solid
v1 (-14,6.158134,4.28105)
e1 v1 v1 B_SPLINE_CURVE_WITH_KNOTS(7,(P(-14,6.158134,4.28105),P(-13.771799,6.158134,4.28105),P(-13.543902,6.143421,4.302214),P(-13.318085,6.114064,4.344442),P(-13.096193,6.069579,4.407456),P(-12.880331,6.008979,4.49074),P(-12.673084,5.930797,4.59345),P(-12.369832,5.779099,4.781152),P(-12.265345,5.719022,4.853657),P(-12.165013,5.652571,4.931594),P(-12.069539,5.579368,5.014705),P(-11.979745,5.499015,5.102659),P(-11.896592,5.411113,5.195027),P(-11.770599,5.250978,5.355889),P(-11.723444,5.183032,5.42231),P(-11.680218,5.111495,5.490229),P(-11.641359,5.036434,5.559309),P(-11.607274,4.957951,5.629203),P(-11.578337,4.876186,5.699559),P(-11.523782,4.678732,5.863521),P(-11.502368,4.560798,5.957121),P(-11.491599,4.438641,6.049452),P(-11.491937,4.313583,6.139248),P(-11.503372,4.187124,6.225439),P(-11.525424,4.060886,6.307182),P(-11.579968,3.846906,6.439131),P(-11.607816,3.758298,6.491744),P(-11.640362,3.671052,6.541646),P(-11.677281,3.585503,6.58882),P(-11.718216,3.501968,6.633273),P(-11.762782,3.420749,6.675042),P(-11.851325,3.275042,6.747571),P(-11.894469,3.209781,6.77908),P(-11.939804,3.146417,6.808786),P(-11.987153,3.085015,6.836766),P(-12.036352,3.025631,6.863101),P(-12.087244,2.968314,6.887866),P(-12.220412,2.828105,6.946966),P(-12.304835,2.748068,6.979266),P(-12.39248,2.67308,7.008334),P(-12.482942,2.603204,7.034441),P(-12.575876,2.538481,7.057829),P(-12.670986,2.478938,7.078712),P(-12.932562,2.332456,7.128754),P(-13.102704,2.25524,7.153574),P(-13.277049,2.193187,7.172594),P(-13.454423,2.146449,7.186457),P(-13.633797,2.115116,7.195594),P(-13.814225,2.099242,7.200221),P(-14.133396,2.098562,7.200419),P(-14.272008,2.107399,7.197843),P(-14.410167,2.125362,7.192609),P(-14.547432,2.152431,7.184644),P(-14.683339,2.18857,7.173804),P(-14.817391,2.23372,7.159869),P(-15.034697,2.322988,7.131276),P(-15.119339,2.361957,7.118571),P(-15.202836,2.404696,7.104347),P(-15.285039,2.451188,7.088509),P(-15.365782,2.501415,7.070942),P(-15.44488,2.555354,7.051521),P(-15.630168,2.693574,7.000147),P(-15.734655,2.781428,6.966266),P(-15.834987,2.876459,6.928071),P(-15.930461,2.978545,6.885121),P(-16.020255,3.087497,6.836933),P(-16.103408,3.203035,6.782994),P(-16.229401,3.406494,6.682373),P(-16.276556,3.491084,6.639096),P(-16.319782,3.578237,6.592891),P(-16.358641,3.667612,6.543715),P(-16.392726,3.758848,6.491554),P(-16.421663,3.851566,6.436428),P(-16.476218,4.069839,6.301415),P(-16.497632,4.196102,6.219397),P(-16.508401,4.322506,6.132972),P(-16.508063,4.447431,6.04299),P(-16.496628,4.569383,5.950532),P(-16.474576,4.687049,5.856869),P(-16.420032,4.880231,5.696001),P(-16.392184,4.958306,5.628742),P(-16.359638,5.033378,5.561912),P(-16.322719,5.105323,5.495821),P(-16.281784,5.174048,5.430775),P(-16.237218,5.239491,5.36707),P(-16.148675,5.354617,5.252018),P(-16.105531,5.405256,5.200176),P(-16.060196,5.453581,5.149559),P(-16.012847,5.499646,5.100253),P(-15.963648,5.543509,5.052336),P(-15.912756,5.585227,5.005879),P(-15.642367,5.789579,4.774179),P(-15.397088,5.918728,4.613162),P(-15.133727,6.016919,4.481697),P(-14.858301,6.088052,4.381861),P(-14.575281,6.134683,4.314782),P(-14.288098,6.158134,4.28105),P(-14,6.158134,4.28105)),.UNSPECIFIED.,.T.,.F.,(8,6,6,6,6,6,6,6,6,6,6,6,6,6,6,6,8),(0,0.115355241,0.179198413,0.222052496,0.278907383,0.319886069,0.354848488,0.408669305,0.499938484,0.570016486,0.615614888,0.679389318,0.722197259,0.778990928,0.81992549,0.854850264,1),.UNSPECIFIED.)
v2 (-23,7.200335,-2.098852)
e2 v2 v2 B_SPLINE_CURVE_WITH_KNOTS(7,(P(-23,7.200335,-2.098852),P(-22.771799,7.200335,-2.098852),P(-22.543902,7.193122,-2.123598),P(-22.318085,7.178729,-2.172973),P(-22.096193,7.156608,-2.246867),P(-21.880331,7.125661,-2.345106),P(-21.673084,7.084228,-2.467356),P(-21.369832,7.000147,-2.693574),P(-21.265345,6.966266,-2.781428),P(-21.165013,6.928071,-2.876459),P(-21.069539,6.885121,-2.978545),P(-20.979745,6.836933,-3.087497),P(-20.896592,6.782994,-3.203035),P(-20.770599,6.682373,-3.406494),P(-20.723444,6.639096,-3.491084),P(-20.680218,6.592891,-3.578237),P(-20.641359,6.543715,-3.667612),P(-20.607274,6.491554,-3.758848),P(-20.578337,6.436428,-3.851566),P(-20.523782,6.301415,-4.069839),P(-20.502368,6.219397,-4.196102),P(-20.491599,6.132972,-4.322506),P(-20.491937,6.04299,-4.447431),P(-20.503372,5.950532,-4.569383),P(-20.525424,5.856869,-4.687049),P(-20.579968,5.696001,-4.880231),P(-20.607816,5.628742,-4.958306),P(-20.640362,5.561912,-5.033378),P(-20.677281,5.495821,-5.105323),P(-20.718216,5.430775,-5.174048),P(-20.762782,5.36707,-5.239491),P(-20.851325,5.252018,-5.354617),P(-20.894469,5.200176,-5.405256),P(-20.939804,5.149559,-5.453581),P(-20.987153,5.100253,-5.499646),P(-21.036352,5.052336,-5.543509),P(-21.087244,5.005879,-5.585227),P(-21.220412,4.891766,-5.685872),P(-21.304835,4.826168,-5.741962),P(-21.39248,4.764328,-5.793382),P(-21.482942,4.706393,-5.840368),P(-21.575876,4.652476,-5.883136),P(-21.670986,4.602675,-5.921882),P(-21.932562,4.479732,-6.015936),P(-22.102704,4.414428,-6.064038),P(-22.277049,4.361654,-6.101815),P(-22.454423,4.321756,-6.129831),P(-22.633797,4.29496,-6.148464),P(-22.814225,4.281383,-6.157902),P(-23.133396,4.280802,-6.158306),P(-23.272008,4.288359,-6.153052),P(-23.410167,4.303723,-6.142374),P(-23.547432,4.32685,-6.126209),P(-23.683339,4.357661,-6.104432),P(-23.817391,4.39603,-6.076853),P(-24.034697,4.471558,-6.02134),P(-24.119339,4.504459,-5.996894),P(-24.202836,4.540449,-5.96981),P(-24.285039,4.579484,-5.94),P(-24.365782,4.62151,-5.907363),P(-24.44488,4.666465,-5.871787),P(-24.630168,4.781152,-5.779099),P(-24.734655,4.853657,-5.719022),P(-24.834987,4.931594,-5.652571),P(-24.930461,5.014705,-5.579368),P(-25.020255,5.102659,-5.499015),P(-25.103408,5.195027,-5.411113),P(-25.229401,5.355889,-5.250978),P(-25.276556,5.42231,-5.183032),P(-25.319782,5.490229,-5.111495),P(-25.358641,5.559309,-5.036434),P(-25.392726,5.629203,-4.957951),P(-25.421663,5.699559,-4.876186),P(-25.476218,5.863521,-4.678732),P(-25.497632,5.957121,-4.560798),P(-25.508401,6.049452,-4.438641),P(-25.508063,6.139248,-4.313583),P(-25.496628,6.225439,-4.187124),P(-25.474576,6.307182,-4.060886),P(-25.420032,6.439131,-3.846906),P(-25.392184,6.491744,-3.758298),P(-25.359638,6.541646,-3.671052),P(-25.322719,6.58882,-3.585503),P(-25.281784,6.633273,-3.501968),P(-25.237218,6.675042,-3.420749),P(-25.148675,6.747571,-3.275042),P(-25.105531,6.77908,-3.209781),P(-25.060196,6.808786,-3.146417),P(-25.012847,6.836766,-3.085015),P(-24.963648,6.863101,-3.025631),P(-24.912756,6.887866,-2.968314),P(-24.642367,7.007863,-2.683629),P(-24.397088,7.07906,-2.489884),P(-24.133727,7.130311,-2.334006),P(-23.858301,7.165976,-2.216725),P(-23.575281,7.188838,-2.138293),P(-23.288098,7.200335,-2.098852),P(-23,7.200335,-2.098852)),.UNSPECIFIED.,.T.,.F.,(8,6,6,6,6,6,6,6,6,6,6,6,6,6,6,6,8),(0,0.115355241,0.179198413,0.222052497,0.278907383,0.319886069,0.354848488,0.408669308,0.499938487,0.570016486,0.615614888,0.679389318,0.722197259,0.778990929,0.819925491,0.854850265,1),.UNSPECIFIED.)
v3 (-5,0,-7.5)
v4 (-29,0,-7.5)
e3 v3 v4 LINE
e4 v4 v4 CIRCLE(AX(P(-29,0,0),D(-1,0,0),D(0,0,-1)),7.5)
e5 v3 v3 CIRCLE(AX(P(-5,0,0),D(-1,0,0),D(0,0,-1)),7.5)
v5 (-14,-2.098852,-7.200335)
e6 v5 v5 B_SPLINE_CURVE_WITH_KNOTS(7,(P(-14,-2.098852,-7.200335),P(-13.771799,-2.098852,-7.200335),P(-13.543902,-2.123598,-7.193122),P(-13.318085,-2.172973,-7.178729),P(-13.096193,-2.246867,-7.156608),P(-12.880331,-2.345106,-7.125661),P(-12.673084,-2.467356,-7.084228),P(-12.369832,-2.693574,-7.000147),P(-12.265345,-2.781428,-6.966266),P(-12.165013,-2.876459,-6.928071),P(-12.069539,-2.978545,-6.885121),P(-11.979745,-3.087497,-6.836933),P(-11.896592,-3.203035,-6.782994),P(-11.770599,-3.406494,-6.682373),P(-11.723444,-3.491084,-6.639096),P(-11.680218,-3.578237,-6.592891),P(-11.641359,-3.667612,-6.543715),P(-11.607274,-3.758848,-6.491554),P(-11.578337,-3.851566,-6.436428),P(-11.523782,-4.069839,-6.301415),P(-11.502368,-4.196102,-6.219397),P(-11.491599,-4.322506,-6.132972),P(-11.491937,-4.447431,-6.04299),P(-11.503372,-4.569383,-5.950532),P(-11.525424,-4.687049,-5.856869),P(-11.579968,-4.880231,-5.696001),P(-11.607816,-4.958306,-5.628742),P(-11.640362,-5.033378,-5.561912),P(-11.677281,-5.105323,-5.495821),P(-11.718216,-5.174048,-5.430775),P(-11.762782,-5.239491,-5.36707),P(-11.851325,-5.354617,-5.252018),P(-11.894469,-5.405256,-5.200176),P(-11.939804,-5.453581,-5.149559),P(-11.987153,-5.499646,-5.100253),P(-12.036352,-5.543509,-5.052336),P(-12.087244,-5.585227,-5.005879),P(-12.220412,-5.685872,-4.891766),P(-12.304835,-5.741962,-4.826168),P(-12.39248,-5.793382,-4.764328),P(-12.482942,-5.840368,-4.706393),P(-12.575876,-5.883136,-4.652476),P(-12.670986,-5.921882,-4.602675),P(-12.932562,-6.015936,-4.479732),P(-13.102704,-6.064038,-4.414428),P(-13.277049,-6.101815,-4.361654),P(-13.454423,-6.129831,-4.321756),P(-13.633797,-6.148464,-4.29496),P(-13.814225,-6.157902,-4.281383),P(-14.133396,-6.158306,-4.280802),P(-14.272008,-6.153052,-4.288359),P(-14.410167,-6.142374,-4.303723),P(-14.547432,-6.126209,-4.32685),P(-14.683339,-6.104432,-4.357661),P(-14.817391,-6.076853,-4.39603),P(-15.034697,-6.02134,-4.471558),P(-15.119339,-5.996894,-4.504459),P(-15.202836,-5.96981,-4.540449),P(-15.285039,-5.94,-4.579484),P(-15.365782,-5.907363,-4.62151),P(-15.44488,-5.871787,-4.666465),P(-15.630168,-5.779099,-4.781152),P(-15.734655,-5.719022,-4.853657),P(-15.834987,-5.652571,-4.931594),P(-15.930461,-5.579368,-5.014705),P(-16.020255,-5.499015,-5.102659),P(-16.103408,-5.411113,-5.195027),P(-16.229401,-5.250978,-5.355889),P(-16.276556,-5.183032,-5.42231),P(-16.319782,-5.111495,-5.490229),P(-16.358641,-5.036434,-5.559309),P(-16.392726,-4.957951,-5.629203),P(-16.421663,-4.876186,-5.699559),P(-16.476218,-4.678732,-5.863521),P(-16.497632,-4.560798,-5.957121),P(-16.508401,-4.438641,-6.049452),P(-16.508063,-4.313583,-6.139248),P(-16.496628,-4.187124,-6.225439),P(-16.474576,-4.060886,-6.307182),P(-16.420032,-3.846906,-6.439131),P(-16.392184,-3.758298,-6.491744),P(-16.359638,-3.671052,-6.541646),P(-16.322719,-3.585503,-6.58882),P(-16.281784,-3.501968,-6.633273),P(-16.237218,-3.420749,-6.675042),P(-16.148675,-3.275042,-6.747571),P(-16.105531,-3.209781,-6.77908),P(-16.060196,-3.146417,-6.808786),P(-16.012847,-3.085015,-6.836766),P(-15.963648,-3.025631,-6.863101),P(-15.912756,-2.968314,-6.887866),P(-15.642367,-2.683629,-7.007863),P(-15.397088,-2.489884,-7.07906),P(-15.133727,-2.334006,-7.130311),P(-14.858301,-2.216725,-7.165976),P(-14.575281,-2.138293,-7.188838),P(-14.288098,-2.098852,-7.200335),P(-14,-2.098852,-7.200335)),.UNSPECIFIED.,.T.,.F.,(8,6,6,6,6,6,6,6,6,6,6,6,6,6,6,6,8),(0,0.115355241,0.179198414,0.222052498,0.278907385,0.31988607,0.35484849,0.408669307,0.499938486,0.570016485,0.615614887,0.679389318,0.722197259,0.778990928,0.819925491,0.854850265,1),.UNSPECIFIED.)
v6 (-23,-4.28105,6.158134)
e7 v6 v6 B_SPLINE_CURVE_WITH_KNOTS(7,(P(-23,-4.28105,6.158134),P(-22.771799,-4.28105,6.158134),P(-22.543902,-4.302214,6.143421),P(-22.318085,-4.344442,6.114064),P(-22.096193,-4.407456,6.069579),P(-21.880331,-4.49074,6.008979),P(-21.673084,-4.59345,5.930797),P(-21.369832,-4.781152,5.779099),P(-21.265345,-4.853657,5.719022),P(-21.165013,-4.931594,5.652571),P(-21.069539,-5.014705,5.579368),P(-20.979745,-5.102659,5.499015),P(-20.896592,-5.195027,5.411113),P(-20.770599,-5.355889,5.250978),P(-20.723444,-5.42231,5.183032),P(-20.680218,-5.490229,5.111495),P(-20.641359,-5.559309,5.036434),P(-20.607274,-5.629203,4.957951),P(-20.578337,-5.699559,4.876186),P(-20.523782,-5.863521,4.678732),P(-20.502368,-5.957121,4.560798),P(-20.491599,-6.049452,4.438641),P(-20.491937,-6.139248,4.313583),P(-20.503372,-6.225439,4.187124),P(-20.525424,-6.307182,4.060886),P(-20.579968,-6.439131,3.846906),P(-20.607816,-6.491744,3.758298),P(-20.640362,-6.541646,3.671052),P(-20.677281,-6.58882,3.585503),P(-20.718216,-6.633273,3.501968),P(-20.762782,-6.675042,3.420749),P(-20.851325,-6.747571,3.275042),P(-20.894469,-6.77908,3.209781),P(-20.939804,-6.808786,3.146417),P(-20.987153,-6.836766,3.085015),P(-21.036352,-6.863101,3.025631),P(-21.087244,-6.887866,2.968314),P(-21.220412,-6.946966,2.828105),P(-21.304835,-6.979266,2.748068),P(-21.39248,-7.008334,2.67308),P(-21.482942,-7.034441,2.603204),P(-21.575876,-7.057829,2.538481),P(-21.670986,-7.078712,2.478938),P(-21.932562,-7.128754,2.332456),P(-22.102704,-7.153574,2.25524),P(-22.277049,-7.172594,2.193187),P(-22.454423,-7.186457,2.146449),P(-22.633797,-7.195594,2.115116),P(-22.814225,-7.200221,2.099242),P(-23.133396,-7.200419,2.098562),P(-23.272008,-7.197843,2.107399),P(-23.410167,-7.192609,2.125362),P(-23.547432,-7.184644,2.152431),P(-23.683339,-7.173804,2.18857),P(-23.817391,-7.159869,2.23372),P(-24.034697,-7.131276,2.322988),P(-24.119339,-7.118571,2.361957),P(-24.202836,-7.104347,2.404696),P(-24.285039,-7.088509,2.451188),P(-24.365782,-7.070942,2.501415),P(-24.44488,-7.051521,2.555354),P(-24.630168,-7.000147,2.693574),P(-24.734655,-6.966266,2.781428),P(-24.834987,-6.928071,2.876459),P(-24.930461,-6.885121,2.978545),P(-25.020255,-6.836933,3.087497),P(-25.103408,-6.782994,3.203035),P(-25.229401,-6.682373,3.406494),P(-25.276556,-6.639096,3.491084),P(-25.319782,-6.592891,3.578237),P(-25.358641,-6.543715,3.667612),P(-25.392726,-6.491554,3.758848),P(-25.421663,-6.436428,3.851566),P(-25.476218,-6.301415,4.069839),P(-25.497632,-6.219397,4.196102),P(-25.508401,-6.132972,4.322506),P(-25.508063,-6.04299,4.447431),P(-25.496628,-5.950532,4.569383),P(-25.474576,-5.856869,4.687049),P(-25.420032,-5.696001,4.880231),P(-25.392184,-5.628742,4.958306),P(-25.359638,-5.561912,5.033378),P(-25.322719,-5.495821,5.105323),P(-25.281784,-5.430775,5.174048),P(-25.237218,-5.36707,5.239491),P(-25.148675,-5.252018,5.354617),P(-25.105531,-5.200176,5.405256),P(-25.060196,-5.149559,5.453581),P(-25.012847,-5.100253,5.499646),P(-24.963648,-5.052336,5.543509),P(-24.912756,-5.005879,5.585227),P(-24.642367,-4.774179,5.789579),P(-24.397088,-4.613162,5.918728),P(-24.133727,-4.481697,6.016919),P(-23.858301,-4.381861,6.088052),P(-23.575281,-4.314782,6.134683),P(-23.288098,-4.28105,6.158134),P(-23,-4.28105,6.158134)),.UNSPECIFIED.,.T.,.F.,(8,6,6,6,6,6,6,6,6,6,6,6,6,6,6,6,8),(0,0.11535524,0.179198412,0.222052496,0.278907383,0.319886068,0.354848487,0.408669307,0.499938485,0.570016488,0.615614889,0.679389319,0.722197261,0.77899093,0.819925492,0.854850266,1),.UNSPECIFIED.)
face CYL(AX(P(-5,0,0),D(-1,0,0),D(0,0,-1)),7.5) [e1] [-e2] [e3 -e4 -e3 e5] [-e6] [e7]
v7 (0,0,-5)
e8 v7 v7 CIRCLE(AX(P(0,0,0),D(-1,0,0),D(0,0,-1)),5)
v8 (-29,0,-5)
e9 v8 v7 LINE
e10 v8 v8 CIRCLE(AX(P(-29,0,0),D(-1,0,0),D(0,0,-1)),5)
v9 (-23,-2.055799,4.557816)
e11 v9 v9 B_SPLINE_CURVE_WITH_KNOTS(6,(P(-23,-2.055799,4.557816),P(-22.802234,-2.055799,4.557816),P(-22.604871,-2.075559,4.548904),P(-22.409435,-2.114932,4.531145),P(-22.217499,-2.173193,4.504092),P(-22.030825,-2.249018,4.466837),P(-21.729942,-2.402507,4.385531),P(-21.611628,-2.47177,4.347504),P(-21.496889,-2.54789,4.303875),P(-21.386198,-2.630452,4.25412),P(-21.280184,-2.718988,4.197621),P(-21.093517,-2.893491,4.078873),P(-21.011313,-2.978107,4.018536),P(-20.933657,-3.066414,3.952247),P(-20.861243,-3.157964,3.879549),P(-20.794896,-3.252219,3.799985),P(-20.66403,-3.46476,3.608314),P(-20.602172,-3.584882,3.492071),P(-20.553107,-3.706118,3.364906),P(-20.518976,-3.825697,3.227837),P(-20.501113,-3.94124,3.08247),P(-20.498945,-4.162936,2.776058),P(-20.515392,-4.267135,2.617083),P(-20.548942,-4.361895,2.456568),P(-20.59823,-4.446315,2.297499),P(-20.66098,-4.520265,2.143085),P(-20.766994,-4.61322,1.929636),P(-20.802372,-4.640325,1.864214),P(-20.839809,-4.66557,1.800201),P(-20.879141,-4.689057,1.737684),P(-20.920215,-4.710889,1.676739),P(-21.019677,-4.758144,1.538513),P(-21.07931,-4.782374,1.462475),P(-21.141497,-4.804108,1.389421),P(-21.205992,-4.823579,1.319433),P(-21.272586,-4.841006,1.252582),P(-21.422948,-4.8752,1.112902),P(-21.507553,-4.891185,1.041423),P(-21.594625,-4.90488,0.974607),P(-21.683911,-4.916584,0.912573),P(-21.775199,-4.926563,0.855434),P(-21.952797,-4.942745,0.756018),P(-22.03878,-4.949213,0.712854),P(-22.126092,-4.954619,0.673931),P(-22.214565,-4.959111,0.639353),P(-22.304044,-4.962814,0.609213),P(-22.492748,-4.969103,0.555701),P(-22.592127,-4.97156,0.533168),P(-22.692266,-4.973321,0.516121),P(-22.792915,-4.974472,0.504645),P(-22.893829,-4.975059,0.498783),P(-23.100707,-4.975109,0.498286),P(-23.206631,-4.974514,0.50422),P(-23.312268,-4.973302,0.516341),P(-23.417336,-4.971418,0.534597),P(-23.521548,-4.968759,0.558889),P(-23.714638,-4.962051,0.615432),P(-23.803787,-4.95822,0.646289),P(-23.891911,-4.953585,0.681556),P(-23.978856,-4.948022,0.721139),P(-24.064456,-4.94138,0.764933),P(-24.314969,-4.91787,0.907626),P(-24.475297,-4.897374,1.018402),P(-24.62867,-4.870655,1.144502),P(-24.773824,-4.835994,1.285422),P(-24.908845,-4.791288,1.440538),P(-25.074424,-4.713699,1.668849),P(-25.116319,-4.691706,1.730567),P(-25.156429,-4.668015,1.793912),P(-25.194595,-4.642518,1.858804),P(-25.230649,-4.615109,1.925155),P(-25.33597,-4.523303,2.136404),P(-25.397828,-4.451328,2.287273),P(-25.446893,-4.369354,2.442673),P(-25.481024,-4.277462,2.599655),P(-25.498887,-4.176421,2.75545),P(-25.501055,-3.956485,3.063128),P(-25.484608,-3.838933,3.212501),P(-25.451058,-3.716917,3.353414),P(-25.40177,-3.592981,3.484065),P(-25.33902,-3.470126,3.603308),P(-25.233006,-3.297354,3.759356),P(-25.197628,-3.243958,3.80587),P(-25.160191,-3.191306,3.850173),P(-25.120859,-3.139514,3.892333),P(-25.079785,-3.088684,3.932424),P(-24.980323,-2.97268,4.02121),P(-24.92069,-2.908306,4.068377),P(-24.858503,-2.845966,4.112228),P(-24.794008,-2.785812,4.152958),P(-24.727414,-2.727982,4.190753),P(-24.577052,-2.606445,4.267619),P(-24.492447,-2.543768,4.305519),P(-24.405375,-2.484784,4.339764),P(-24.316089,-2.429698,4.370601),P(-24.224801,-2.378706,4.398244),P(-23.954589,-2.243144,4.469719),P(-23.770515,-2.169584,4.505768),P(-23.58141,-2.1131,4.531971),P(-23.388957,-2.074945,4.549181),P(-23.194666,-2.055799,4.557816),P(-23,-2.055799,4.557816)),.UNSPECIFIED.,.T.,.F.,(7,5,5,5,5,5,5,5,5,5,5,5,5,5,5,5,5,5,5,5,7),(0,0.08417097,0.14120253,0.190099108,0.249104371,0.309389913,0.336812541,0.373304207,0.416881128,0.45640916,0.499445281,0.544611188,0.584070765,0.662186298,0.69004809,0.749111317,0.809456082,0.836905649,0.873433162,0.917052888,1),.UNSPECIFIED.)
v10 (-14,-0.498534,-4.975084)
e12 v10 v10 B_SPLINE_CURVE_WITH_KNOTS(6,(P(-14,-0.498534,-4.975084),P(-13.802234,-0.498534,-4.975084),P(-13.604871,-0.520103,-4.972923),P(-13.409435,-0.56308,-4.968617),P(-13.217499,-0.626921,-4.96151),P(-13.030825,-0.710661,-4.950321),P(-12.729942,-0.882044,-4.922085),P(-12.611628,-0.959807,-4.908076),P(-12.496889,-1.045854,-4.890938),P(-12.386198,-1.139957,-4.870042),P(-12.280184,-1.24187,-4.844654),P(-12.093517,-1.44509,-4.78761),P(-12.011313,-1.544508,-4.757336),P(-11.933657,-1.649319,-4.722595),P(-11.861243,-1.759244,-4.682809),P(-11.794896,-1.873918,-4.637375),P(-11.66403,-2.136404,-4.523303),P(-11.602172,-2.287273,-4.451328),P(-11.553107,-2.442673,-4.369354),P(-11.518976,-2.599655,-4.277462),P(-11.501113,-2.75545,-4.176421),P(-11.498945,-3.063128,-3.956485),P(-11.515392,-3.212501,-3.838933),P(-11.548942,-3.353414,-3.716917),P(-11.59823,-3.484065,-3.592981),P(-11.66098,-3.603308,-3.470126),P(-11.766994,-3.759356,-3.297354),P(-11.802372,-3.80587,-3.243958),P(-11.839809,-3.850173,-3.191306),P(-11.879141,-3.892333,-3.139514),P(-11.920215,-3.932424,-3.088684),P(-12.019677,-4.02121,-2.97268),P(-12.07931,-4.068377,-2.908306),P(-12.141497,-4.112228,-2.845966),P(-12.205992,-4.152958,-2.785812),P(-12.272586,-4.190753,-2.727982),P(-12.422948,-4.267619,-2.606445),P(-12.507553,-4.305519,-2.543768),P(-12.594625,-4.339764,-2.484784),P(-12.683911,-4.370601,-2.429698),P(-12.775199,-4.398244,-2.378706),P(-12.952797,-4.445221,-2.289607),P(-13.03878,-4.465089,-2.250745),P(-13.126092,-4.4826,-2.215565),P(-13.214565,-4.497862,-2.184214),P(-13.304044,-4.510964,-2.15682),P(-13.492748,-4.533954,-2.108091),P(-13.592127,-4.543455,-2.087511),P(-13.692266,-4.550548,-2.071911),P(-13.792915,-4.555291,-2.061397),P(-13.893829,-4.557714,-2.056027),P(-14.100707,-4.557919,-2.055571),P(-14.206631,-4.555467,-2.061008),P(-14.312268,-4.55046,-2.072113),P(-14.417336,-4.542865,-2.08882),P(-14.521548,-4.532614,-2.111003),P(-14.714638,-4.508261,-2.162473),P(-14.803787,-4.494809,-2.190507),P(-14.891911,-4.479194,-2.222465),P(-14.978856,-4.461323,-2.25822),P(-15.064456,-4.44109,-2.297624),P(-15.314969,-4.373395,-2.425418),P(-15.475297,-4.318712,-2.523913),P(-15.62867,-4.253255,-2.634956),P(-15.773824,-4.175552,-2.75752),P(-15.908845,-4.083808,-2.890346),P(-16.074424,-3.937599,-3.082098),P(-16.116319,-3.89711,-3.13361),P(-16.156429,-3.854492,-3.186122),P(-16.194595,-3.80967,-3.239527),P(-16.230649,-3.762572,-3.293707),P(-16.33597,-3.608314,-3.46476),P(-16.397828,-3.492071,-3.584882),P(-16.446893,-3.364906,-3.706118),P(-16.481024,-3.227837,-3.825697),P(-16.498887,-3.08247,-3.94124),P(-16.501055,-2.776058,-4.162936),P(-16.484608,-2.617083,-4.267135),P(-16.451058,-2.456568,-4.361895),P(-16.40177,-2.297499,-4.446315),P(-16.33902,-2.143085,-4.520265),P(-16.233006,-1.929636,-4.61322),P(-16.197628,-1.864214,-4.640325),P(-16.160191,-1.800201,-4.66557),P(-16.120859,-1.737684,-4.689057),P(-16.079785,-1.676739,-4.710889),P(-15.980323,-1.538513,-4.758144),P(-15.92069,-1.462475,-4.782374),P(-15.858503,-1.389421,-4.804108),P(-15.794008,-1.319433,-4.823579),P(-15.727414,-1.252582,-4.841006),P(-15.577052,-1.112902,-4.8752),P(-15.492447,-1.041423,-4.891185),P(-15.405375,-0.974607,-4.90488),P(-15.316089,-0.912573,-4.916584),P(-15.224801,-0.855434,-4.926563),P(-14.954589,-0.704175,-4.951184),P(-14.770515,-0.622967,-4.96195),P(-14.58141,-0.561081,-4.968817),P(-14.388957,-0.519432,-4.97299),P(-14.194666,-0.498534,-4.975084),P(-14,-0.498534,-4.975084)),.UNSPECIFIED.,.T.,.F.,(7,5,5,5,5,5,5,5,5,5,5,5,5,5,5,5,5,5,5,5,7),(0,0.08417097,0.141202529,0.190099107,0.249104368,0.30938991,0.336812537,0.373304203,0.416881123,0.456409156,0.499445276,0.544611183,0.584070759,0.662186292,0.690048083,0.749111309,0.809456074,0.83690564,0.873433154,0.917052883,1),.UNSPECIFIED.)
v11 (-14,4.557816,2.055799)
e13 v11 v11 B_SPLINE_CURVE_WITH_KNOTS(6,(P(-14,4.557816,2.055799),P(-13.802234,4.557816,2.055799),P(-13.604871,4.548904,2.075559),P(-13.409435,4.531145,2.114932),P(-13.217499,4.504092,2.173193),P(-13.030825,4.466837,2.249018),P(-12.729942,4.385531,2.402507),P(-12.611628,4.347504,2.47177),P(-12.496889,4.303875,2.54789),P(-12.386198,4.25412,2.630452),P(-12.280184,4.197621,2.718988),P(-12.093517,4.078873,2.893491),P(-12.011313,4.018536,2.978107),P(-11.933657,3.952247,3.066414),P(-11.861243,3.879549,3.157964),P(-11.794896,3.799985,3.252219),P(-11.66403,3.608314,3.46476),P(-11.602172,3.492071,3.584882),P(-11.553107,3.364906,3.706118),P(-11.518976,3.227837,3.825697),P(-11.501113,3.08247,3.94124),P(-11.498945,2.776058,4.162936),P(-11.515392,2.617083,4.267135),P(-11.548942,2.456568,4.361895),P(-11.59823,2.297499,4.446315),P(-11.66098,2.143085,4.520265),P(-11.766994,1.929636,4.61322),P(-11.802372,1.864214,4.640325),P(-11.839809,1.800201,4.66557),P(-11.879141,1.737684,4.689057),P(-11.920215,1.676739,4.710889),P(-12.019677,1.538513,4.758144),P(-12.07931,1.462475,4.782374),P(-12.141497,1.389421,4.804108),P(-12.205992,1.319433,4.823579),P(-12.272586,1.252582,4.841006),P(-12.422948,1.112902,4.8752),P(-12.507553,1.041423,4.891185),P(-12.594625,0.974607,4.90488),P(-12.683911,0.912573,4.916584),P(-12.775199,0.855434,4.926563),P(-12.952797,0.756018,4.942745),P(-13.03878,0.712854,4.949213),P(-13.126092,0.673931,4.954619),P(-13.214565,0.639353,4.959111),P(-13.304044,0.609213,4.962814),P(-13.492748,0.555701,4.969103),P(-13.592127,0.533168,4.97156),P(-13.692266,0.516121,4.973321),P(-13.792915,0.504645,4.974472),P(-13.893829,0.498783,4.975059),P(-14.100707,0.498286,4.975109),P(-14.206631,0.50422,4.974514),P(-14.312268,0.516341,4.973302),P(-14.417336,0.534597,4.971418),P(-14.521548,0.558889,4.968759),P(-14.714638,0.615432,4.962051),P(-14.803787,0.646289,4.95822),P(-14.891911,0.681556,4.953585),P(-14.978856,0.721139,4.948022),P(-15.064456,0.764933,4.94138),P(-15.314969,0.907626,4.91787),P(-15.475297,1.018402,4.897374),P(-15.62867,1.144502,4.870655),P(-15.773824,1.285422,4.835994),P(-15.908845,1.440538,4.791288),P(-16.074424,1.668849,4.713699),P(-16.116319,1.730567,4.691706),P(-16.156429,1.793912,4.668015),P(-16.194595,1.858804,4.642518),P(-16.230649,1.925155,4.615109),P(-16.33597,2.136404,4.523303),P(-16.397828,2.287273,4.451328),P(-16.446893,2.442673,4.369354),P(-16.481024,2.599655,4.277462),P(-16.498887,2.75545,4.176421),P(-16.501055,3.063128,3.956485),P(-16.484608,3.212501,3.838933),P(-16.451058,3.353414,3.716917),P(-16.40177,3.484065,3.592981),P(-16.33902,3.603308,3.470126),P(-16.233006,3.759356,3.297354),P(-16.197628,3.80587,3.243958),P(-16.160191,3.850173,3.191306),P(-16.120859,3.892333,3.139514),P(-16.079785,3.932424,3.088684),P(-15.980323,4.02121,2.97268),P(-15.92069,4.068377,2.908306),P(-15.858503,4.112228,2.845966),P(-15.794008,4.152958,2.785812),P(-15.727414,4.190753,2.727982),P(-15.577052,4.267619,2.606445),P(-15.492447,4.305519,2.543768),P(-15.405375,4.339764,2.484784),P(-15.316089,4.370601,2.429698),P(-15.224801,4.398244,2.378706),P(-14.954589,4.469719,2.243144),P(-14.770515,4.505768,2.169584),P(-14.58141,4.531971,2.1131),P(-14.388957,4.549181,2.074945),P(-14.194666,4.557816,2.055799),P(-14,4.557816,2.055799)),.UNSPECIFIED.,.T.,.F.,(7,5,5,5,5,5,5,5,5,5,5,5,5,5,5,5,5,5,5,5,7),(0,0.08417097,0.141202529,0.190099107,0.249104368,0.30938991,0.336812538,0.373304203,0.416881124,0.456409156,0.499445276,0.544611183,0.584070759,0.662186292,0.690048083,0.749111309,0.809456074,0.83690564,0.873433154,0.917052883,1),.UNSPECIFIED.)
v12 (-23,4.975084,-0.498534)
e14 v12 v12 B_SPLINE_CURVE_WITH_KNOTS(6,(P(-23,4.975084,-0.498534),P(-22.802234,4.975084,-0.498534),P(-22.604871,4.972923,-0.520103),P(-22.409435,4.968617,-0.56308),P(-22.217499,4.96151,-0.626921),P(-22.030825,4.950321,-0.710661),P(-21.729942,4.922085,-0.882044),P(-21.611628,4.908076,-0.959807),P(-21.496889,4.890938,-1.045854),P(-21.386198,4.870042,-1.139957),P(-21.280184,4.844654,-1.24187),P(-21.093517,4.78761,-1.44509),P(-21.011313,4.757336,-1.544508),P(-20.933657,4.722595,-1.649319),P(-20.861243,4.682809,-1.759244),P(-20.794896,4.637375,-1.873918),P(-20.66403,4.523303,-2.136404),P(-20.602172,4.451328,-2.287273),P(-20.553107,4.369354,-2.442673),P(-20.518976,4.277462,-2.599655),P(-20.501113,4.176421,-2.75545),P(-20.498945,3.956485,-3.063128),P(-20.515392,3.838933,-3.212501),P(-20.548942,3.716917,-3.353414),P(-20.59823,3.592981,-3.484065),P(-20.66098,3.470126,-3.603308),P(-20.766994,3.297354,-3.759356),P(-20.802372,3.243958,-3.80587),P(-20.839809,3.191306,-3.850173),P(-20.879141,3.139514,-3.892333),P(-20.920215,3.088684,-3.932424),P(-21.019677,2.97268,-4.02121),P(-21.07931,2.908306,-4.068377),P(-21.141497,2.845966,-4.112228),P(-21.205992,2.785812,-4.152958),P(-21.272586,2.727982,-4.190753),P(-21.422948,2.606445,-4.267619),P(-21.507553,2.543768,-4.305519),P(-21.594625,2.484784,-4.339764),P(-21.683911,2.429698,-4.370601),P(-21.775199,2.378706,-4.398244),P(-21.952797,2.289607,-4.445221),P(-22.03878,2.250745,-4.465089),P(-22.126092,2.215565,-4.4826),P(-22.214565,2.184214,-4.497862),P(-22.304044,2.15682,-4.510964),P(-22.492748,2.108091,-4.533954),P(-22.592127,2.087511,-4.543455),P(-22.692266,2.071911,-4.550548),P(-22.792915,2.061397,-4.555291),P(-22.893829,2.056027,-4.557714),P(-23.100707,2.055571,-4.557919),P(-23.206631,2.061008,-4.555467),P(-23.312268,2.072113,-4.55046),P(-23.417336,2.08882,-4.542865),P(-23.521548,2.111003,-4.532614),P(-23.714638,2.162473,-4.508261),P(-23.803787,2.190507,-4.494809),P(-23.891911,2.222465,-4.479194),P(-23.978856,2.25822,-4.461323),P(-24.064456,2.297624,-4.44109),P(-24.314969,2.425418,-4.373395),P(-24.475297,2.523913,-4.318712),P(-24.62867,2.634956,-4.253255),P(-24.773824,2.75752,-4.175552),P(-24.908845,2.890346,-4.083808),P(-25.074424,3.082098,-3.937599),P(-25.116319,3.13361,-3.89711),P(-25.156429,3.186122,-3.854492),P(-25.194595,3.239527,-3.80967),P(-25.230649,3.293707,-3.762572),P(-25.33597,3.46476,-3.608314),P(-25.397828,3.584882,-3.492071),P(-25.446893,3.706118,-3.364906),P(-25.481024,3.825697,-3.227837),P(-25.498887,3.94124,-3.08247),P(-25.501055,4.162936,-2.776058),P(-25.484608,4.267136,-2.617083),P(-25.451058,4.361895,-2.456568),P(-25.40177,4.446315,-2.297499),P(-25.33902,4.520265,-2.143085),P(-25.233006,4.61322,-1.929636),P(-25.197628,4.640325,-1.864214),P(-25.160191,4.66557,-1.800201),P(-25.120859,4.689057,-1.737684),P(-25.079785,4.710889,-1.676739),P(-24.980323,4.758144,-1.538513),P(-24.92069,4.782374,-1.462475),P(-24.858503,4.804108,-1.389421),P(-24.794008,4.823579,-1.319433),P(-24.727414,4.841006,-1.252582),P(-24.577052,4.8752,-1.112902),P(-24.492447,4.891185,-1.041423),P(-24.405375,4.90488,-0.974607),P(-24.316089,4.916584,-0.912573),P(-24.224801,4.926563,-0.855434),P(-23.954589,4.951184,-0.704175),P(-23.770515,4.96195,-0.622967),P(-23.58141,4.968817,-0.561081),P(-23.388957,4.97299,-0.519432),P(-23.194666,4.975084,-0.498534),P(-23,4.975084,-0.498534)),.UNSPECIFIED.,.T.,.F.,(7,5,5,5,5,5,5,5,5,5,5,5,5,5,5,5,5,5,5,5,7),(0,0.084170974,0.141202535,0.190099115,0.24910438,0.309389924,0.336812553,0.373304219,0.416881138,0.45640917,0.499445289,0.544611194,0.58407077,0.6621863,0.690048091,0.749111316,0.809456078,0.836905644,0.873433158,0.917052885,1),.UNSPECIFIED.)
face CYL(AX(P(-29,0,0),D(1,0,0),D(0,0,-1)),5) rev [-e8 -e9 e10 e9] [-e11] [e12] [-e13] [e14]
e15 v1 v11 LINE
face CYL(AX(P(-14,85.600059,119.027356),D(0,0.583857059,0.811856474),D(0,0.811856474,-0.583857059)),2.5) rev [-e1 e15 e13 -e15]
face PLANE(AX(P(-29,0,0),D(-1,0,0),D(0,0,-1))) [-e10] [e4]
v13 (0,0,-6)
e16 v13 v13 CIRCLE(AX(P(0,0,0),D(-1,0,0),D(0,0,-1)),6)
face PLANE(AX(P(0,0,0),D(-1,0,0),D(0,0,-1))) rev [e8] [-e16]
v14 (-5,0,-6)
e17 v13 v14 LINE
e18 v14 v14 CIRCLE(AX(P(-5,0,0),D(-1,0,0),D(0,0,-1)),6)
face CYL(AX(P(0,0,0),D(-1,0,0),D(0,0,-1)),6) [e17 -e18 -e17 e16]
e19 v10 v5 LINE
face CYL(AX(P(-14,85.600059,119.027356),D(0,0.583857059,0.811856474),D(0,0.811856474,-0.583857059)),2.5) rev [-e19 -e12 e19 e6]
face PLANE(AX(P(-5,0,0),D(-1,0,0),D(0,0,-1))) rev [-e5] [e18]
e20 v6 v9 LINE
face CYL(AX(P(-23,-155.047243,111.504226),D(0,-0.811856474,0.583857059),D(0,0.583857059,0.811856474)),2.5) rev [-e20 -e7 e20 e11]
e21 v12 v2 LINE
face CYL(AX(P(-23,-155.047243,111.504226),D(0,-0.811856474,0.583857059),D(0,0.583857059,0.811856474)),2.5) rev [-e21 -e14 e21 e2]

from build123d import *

# Parameters (mm, degrees)
CUT_EXTRUDE1_DEPTH      = 195.978637362
CUT_EXTRUDE1_DEPTH_BACK = 195.978637362
SKETCH4_R               = 2.5
CUT_EXTRUDE2_DEPTH      = 151.611328634
CUT_EXTRUDE2_DEPTH_BACK = 151.611328634
SKETCH3_R               = 2.5


with BuildPart() as part:
    # Sketch2 → Revolve1 (revolve)
    with BuildSketch(Plane.XY, mode=Mode.PRIVATE) as revolve1_sk:
        Polygon((0, 6), (-5, 6), (-5, 7.5), (-29, 7.5), (-29, 5), (0, 5), align=None)
    revolve(revolve1_sk.sketch.rotate(Axis((0, 0, 0), (-1, 0, 0)), 90), axis=Axis((0, 0, 0), (-1, 0, 0)))

    # Sketch4 → Cut-Extrude1 (cut, two sides: drawn at the far end of the back side and taken through both)
    with BuildSketch(Plane(origin=(-120.750059673, 87.243462265, 112.748777435), x_dir=(0.8561890359823346, 0.3016571585603837, 0.41945594924010343), z_dir=(0, 0.8118564738851006, -0.5838570593996881)).offset(-CUT_EXTRUDE1_DEPTH_BACK)):
        with Locations(Location((10.081768965, 172.488088347, 0), (0, 0, 301.108656356))):
            Circle(SKETCH4_R)
    extrude(amount=CUT_EXTRUDE1_DEPTH + CUT_EXTRUDE1_DEPTH_BACK, mode=Mode.SUBTRACT)

    # Sketch3 → Cut-Extrude2 (cut, two sides: drawn at the far end of the back side and taken through both)
    with BuildSketch(Plane(origin=(-120.750059673, -67.453558659, 42.35137307), x_dir=(-0.5093963915480642, 0.6986284720029967, -0.5024276807507421), z_dir=(0, -0.5838570593996879, -0.8118564738851008)).offset(-CUT_EXTRUDE2_DEPTH_BACK)):
        with Locations(Location((14.02538357, 132.353637021, 0), (0, 0, 30.623632048))):
            Circle(SKETCH3_R)
    extrude(amount=CUT_EXTRUDE2_DEPTH + CUT_EXTRUDE2_DEPTH_BACK, mode=Mode.SUBTRACT)


solid = part.part
